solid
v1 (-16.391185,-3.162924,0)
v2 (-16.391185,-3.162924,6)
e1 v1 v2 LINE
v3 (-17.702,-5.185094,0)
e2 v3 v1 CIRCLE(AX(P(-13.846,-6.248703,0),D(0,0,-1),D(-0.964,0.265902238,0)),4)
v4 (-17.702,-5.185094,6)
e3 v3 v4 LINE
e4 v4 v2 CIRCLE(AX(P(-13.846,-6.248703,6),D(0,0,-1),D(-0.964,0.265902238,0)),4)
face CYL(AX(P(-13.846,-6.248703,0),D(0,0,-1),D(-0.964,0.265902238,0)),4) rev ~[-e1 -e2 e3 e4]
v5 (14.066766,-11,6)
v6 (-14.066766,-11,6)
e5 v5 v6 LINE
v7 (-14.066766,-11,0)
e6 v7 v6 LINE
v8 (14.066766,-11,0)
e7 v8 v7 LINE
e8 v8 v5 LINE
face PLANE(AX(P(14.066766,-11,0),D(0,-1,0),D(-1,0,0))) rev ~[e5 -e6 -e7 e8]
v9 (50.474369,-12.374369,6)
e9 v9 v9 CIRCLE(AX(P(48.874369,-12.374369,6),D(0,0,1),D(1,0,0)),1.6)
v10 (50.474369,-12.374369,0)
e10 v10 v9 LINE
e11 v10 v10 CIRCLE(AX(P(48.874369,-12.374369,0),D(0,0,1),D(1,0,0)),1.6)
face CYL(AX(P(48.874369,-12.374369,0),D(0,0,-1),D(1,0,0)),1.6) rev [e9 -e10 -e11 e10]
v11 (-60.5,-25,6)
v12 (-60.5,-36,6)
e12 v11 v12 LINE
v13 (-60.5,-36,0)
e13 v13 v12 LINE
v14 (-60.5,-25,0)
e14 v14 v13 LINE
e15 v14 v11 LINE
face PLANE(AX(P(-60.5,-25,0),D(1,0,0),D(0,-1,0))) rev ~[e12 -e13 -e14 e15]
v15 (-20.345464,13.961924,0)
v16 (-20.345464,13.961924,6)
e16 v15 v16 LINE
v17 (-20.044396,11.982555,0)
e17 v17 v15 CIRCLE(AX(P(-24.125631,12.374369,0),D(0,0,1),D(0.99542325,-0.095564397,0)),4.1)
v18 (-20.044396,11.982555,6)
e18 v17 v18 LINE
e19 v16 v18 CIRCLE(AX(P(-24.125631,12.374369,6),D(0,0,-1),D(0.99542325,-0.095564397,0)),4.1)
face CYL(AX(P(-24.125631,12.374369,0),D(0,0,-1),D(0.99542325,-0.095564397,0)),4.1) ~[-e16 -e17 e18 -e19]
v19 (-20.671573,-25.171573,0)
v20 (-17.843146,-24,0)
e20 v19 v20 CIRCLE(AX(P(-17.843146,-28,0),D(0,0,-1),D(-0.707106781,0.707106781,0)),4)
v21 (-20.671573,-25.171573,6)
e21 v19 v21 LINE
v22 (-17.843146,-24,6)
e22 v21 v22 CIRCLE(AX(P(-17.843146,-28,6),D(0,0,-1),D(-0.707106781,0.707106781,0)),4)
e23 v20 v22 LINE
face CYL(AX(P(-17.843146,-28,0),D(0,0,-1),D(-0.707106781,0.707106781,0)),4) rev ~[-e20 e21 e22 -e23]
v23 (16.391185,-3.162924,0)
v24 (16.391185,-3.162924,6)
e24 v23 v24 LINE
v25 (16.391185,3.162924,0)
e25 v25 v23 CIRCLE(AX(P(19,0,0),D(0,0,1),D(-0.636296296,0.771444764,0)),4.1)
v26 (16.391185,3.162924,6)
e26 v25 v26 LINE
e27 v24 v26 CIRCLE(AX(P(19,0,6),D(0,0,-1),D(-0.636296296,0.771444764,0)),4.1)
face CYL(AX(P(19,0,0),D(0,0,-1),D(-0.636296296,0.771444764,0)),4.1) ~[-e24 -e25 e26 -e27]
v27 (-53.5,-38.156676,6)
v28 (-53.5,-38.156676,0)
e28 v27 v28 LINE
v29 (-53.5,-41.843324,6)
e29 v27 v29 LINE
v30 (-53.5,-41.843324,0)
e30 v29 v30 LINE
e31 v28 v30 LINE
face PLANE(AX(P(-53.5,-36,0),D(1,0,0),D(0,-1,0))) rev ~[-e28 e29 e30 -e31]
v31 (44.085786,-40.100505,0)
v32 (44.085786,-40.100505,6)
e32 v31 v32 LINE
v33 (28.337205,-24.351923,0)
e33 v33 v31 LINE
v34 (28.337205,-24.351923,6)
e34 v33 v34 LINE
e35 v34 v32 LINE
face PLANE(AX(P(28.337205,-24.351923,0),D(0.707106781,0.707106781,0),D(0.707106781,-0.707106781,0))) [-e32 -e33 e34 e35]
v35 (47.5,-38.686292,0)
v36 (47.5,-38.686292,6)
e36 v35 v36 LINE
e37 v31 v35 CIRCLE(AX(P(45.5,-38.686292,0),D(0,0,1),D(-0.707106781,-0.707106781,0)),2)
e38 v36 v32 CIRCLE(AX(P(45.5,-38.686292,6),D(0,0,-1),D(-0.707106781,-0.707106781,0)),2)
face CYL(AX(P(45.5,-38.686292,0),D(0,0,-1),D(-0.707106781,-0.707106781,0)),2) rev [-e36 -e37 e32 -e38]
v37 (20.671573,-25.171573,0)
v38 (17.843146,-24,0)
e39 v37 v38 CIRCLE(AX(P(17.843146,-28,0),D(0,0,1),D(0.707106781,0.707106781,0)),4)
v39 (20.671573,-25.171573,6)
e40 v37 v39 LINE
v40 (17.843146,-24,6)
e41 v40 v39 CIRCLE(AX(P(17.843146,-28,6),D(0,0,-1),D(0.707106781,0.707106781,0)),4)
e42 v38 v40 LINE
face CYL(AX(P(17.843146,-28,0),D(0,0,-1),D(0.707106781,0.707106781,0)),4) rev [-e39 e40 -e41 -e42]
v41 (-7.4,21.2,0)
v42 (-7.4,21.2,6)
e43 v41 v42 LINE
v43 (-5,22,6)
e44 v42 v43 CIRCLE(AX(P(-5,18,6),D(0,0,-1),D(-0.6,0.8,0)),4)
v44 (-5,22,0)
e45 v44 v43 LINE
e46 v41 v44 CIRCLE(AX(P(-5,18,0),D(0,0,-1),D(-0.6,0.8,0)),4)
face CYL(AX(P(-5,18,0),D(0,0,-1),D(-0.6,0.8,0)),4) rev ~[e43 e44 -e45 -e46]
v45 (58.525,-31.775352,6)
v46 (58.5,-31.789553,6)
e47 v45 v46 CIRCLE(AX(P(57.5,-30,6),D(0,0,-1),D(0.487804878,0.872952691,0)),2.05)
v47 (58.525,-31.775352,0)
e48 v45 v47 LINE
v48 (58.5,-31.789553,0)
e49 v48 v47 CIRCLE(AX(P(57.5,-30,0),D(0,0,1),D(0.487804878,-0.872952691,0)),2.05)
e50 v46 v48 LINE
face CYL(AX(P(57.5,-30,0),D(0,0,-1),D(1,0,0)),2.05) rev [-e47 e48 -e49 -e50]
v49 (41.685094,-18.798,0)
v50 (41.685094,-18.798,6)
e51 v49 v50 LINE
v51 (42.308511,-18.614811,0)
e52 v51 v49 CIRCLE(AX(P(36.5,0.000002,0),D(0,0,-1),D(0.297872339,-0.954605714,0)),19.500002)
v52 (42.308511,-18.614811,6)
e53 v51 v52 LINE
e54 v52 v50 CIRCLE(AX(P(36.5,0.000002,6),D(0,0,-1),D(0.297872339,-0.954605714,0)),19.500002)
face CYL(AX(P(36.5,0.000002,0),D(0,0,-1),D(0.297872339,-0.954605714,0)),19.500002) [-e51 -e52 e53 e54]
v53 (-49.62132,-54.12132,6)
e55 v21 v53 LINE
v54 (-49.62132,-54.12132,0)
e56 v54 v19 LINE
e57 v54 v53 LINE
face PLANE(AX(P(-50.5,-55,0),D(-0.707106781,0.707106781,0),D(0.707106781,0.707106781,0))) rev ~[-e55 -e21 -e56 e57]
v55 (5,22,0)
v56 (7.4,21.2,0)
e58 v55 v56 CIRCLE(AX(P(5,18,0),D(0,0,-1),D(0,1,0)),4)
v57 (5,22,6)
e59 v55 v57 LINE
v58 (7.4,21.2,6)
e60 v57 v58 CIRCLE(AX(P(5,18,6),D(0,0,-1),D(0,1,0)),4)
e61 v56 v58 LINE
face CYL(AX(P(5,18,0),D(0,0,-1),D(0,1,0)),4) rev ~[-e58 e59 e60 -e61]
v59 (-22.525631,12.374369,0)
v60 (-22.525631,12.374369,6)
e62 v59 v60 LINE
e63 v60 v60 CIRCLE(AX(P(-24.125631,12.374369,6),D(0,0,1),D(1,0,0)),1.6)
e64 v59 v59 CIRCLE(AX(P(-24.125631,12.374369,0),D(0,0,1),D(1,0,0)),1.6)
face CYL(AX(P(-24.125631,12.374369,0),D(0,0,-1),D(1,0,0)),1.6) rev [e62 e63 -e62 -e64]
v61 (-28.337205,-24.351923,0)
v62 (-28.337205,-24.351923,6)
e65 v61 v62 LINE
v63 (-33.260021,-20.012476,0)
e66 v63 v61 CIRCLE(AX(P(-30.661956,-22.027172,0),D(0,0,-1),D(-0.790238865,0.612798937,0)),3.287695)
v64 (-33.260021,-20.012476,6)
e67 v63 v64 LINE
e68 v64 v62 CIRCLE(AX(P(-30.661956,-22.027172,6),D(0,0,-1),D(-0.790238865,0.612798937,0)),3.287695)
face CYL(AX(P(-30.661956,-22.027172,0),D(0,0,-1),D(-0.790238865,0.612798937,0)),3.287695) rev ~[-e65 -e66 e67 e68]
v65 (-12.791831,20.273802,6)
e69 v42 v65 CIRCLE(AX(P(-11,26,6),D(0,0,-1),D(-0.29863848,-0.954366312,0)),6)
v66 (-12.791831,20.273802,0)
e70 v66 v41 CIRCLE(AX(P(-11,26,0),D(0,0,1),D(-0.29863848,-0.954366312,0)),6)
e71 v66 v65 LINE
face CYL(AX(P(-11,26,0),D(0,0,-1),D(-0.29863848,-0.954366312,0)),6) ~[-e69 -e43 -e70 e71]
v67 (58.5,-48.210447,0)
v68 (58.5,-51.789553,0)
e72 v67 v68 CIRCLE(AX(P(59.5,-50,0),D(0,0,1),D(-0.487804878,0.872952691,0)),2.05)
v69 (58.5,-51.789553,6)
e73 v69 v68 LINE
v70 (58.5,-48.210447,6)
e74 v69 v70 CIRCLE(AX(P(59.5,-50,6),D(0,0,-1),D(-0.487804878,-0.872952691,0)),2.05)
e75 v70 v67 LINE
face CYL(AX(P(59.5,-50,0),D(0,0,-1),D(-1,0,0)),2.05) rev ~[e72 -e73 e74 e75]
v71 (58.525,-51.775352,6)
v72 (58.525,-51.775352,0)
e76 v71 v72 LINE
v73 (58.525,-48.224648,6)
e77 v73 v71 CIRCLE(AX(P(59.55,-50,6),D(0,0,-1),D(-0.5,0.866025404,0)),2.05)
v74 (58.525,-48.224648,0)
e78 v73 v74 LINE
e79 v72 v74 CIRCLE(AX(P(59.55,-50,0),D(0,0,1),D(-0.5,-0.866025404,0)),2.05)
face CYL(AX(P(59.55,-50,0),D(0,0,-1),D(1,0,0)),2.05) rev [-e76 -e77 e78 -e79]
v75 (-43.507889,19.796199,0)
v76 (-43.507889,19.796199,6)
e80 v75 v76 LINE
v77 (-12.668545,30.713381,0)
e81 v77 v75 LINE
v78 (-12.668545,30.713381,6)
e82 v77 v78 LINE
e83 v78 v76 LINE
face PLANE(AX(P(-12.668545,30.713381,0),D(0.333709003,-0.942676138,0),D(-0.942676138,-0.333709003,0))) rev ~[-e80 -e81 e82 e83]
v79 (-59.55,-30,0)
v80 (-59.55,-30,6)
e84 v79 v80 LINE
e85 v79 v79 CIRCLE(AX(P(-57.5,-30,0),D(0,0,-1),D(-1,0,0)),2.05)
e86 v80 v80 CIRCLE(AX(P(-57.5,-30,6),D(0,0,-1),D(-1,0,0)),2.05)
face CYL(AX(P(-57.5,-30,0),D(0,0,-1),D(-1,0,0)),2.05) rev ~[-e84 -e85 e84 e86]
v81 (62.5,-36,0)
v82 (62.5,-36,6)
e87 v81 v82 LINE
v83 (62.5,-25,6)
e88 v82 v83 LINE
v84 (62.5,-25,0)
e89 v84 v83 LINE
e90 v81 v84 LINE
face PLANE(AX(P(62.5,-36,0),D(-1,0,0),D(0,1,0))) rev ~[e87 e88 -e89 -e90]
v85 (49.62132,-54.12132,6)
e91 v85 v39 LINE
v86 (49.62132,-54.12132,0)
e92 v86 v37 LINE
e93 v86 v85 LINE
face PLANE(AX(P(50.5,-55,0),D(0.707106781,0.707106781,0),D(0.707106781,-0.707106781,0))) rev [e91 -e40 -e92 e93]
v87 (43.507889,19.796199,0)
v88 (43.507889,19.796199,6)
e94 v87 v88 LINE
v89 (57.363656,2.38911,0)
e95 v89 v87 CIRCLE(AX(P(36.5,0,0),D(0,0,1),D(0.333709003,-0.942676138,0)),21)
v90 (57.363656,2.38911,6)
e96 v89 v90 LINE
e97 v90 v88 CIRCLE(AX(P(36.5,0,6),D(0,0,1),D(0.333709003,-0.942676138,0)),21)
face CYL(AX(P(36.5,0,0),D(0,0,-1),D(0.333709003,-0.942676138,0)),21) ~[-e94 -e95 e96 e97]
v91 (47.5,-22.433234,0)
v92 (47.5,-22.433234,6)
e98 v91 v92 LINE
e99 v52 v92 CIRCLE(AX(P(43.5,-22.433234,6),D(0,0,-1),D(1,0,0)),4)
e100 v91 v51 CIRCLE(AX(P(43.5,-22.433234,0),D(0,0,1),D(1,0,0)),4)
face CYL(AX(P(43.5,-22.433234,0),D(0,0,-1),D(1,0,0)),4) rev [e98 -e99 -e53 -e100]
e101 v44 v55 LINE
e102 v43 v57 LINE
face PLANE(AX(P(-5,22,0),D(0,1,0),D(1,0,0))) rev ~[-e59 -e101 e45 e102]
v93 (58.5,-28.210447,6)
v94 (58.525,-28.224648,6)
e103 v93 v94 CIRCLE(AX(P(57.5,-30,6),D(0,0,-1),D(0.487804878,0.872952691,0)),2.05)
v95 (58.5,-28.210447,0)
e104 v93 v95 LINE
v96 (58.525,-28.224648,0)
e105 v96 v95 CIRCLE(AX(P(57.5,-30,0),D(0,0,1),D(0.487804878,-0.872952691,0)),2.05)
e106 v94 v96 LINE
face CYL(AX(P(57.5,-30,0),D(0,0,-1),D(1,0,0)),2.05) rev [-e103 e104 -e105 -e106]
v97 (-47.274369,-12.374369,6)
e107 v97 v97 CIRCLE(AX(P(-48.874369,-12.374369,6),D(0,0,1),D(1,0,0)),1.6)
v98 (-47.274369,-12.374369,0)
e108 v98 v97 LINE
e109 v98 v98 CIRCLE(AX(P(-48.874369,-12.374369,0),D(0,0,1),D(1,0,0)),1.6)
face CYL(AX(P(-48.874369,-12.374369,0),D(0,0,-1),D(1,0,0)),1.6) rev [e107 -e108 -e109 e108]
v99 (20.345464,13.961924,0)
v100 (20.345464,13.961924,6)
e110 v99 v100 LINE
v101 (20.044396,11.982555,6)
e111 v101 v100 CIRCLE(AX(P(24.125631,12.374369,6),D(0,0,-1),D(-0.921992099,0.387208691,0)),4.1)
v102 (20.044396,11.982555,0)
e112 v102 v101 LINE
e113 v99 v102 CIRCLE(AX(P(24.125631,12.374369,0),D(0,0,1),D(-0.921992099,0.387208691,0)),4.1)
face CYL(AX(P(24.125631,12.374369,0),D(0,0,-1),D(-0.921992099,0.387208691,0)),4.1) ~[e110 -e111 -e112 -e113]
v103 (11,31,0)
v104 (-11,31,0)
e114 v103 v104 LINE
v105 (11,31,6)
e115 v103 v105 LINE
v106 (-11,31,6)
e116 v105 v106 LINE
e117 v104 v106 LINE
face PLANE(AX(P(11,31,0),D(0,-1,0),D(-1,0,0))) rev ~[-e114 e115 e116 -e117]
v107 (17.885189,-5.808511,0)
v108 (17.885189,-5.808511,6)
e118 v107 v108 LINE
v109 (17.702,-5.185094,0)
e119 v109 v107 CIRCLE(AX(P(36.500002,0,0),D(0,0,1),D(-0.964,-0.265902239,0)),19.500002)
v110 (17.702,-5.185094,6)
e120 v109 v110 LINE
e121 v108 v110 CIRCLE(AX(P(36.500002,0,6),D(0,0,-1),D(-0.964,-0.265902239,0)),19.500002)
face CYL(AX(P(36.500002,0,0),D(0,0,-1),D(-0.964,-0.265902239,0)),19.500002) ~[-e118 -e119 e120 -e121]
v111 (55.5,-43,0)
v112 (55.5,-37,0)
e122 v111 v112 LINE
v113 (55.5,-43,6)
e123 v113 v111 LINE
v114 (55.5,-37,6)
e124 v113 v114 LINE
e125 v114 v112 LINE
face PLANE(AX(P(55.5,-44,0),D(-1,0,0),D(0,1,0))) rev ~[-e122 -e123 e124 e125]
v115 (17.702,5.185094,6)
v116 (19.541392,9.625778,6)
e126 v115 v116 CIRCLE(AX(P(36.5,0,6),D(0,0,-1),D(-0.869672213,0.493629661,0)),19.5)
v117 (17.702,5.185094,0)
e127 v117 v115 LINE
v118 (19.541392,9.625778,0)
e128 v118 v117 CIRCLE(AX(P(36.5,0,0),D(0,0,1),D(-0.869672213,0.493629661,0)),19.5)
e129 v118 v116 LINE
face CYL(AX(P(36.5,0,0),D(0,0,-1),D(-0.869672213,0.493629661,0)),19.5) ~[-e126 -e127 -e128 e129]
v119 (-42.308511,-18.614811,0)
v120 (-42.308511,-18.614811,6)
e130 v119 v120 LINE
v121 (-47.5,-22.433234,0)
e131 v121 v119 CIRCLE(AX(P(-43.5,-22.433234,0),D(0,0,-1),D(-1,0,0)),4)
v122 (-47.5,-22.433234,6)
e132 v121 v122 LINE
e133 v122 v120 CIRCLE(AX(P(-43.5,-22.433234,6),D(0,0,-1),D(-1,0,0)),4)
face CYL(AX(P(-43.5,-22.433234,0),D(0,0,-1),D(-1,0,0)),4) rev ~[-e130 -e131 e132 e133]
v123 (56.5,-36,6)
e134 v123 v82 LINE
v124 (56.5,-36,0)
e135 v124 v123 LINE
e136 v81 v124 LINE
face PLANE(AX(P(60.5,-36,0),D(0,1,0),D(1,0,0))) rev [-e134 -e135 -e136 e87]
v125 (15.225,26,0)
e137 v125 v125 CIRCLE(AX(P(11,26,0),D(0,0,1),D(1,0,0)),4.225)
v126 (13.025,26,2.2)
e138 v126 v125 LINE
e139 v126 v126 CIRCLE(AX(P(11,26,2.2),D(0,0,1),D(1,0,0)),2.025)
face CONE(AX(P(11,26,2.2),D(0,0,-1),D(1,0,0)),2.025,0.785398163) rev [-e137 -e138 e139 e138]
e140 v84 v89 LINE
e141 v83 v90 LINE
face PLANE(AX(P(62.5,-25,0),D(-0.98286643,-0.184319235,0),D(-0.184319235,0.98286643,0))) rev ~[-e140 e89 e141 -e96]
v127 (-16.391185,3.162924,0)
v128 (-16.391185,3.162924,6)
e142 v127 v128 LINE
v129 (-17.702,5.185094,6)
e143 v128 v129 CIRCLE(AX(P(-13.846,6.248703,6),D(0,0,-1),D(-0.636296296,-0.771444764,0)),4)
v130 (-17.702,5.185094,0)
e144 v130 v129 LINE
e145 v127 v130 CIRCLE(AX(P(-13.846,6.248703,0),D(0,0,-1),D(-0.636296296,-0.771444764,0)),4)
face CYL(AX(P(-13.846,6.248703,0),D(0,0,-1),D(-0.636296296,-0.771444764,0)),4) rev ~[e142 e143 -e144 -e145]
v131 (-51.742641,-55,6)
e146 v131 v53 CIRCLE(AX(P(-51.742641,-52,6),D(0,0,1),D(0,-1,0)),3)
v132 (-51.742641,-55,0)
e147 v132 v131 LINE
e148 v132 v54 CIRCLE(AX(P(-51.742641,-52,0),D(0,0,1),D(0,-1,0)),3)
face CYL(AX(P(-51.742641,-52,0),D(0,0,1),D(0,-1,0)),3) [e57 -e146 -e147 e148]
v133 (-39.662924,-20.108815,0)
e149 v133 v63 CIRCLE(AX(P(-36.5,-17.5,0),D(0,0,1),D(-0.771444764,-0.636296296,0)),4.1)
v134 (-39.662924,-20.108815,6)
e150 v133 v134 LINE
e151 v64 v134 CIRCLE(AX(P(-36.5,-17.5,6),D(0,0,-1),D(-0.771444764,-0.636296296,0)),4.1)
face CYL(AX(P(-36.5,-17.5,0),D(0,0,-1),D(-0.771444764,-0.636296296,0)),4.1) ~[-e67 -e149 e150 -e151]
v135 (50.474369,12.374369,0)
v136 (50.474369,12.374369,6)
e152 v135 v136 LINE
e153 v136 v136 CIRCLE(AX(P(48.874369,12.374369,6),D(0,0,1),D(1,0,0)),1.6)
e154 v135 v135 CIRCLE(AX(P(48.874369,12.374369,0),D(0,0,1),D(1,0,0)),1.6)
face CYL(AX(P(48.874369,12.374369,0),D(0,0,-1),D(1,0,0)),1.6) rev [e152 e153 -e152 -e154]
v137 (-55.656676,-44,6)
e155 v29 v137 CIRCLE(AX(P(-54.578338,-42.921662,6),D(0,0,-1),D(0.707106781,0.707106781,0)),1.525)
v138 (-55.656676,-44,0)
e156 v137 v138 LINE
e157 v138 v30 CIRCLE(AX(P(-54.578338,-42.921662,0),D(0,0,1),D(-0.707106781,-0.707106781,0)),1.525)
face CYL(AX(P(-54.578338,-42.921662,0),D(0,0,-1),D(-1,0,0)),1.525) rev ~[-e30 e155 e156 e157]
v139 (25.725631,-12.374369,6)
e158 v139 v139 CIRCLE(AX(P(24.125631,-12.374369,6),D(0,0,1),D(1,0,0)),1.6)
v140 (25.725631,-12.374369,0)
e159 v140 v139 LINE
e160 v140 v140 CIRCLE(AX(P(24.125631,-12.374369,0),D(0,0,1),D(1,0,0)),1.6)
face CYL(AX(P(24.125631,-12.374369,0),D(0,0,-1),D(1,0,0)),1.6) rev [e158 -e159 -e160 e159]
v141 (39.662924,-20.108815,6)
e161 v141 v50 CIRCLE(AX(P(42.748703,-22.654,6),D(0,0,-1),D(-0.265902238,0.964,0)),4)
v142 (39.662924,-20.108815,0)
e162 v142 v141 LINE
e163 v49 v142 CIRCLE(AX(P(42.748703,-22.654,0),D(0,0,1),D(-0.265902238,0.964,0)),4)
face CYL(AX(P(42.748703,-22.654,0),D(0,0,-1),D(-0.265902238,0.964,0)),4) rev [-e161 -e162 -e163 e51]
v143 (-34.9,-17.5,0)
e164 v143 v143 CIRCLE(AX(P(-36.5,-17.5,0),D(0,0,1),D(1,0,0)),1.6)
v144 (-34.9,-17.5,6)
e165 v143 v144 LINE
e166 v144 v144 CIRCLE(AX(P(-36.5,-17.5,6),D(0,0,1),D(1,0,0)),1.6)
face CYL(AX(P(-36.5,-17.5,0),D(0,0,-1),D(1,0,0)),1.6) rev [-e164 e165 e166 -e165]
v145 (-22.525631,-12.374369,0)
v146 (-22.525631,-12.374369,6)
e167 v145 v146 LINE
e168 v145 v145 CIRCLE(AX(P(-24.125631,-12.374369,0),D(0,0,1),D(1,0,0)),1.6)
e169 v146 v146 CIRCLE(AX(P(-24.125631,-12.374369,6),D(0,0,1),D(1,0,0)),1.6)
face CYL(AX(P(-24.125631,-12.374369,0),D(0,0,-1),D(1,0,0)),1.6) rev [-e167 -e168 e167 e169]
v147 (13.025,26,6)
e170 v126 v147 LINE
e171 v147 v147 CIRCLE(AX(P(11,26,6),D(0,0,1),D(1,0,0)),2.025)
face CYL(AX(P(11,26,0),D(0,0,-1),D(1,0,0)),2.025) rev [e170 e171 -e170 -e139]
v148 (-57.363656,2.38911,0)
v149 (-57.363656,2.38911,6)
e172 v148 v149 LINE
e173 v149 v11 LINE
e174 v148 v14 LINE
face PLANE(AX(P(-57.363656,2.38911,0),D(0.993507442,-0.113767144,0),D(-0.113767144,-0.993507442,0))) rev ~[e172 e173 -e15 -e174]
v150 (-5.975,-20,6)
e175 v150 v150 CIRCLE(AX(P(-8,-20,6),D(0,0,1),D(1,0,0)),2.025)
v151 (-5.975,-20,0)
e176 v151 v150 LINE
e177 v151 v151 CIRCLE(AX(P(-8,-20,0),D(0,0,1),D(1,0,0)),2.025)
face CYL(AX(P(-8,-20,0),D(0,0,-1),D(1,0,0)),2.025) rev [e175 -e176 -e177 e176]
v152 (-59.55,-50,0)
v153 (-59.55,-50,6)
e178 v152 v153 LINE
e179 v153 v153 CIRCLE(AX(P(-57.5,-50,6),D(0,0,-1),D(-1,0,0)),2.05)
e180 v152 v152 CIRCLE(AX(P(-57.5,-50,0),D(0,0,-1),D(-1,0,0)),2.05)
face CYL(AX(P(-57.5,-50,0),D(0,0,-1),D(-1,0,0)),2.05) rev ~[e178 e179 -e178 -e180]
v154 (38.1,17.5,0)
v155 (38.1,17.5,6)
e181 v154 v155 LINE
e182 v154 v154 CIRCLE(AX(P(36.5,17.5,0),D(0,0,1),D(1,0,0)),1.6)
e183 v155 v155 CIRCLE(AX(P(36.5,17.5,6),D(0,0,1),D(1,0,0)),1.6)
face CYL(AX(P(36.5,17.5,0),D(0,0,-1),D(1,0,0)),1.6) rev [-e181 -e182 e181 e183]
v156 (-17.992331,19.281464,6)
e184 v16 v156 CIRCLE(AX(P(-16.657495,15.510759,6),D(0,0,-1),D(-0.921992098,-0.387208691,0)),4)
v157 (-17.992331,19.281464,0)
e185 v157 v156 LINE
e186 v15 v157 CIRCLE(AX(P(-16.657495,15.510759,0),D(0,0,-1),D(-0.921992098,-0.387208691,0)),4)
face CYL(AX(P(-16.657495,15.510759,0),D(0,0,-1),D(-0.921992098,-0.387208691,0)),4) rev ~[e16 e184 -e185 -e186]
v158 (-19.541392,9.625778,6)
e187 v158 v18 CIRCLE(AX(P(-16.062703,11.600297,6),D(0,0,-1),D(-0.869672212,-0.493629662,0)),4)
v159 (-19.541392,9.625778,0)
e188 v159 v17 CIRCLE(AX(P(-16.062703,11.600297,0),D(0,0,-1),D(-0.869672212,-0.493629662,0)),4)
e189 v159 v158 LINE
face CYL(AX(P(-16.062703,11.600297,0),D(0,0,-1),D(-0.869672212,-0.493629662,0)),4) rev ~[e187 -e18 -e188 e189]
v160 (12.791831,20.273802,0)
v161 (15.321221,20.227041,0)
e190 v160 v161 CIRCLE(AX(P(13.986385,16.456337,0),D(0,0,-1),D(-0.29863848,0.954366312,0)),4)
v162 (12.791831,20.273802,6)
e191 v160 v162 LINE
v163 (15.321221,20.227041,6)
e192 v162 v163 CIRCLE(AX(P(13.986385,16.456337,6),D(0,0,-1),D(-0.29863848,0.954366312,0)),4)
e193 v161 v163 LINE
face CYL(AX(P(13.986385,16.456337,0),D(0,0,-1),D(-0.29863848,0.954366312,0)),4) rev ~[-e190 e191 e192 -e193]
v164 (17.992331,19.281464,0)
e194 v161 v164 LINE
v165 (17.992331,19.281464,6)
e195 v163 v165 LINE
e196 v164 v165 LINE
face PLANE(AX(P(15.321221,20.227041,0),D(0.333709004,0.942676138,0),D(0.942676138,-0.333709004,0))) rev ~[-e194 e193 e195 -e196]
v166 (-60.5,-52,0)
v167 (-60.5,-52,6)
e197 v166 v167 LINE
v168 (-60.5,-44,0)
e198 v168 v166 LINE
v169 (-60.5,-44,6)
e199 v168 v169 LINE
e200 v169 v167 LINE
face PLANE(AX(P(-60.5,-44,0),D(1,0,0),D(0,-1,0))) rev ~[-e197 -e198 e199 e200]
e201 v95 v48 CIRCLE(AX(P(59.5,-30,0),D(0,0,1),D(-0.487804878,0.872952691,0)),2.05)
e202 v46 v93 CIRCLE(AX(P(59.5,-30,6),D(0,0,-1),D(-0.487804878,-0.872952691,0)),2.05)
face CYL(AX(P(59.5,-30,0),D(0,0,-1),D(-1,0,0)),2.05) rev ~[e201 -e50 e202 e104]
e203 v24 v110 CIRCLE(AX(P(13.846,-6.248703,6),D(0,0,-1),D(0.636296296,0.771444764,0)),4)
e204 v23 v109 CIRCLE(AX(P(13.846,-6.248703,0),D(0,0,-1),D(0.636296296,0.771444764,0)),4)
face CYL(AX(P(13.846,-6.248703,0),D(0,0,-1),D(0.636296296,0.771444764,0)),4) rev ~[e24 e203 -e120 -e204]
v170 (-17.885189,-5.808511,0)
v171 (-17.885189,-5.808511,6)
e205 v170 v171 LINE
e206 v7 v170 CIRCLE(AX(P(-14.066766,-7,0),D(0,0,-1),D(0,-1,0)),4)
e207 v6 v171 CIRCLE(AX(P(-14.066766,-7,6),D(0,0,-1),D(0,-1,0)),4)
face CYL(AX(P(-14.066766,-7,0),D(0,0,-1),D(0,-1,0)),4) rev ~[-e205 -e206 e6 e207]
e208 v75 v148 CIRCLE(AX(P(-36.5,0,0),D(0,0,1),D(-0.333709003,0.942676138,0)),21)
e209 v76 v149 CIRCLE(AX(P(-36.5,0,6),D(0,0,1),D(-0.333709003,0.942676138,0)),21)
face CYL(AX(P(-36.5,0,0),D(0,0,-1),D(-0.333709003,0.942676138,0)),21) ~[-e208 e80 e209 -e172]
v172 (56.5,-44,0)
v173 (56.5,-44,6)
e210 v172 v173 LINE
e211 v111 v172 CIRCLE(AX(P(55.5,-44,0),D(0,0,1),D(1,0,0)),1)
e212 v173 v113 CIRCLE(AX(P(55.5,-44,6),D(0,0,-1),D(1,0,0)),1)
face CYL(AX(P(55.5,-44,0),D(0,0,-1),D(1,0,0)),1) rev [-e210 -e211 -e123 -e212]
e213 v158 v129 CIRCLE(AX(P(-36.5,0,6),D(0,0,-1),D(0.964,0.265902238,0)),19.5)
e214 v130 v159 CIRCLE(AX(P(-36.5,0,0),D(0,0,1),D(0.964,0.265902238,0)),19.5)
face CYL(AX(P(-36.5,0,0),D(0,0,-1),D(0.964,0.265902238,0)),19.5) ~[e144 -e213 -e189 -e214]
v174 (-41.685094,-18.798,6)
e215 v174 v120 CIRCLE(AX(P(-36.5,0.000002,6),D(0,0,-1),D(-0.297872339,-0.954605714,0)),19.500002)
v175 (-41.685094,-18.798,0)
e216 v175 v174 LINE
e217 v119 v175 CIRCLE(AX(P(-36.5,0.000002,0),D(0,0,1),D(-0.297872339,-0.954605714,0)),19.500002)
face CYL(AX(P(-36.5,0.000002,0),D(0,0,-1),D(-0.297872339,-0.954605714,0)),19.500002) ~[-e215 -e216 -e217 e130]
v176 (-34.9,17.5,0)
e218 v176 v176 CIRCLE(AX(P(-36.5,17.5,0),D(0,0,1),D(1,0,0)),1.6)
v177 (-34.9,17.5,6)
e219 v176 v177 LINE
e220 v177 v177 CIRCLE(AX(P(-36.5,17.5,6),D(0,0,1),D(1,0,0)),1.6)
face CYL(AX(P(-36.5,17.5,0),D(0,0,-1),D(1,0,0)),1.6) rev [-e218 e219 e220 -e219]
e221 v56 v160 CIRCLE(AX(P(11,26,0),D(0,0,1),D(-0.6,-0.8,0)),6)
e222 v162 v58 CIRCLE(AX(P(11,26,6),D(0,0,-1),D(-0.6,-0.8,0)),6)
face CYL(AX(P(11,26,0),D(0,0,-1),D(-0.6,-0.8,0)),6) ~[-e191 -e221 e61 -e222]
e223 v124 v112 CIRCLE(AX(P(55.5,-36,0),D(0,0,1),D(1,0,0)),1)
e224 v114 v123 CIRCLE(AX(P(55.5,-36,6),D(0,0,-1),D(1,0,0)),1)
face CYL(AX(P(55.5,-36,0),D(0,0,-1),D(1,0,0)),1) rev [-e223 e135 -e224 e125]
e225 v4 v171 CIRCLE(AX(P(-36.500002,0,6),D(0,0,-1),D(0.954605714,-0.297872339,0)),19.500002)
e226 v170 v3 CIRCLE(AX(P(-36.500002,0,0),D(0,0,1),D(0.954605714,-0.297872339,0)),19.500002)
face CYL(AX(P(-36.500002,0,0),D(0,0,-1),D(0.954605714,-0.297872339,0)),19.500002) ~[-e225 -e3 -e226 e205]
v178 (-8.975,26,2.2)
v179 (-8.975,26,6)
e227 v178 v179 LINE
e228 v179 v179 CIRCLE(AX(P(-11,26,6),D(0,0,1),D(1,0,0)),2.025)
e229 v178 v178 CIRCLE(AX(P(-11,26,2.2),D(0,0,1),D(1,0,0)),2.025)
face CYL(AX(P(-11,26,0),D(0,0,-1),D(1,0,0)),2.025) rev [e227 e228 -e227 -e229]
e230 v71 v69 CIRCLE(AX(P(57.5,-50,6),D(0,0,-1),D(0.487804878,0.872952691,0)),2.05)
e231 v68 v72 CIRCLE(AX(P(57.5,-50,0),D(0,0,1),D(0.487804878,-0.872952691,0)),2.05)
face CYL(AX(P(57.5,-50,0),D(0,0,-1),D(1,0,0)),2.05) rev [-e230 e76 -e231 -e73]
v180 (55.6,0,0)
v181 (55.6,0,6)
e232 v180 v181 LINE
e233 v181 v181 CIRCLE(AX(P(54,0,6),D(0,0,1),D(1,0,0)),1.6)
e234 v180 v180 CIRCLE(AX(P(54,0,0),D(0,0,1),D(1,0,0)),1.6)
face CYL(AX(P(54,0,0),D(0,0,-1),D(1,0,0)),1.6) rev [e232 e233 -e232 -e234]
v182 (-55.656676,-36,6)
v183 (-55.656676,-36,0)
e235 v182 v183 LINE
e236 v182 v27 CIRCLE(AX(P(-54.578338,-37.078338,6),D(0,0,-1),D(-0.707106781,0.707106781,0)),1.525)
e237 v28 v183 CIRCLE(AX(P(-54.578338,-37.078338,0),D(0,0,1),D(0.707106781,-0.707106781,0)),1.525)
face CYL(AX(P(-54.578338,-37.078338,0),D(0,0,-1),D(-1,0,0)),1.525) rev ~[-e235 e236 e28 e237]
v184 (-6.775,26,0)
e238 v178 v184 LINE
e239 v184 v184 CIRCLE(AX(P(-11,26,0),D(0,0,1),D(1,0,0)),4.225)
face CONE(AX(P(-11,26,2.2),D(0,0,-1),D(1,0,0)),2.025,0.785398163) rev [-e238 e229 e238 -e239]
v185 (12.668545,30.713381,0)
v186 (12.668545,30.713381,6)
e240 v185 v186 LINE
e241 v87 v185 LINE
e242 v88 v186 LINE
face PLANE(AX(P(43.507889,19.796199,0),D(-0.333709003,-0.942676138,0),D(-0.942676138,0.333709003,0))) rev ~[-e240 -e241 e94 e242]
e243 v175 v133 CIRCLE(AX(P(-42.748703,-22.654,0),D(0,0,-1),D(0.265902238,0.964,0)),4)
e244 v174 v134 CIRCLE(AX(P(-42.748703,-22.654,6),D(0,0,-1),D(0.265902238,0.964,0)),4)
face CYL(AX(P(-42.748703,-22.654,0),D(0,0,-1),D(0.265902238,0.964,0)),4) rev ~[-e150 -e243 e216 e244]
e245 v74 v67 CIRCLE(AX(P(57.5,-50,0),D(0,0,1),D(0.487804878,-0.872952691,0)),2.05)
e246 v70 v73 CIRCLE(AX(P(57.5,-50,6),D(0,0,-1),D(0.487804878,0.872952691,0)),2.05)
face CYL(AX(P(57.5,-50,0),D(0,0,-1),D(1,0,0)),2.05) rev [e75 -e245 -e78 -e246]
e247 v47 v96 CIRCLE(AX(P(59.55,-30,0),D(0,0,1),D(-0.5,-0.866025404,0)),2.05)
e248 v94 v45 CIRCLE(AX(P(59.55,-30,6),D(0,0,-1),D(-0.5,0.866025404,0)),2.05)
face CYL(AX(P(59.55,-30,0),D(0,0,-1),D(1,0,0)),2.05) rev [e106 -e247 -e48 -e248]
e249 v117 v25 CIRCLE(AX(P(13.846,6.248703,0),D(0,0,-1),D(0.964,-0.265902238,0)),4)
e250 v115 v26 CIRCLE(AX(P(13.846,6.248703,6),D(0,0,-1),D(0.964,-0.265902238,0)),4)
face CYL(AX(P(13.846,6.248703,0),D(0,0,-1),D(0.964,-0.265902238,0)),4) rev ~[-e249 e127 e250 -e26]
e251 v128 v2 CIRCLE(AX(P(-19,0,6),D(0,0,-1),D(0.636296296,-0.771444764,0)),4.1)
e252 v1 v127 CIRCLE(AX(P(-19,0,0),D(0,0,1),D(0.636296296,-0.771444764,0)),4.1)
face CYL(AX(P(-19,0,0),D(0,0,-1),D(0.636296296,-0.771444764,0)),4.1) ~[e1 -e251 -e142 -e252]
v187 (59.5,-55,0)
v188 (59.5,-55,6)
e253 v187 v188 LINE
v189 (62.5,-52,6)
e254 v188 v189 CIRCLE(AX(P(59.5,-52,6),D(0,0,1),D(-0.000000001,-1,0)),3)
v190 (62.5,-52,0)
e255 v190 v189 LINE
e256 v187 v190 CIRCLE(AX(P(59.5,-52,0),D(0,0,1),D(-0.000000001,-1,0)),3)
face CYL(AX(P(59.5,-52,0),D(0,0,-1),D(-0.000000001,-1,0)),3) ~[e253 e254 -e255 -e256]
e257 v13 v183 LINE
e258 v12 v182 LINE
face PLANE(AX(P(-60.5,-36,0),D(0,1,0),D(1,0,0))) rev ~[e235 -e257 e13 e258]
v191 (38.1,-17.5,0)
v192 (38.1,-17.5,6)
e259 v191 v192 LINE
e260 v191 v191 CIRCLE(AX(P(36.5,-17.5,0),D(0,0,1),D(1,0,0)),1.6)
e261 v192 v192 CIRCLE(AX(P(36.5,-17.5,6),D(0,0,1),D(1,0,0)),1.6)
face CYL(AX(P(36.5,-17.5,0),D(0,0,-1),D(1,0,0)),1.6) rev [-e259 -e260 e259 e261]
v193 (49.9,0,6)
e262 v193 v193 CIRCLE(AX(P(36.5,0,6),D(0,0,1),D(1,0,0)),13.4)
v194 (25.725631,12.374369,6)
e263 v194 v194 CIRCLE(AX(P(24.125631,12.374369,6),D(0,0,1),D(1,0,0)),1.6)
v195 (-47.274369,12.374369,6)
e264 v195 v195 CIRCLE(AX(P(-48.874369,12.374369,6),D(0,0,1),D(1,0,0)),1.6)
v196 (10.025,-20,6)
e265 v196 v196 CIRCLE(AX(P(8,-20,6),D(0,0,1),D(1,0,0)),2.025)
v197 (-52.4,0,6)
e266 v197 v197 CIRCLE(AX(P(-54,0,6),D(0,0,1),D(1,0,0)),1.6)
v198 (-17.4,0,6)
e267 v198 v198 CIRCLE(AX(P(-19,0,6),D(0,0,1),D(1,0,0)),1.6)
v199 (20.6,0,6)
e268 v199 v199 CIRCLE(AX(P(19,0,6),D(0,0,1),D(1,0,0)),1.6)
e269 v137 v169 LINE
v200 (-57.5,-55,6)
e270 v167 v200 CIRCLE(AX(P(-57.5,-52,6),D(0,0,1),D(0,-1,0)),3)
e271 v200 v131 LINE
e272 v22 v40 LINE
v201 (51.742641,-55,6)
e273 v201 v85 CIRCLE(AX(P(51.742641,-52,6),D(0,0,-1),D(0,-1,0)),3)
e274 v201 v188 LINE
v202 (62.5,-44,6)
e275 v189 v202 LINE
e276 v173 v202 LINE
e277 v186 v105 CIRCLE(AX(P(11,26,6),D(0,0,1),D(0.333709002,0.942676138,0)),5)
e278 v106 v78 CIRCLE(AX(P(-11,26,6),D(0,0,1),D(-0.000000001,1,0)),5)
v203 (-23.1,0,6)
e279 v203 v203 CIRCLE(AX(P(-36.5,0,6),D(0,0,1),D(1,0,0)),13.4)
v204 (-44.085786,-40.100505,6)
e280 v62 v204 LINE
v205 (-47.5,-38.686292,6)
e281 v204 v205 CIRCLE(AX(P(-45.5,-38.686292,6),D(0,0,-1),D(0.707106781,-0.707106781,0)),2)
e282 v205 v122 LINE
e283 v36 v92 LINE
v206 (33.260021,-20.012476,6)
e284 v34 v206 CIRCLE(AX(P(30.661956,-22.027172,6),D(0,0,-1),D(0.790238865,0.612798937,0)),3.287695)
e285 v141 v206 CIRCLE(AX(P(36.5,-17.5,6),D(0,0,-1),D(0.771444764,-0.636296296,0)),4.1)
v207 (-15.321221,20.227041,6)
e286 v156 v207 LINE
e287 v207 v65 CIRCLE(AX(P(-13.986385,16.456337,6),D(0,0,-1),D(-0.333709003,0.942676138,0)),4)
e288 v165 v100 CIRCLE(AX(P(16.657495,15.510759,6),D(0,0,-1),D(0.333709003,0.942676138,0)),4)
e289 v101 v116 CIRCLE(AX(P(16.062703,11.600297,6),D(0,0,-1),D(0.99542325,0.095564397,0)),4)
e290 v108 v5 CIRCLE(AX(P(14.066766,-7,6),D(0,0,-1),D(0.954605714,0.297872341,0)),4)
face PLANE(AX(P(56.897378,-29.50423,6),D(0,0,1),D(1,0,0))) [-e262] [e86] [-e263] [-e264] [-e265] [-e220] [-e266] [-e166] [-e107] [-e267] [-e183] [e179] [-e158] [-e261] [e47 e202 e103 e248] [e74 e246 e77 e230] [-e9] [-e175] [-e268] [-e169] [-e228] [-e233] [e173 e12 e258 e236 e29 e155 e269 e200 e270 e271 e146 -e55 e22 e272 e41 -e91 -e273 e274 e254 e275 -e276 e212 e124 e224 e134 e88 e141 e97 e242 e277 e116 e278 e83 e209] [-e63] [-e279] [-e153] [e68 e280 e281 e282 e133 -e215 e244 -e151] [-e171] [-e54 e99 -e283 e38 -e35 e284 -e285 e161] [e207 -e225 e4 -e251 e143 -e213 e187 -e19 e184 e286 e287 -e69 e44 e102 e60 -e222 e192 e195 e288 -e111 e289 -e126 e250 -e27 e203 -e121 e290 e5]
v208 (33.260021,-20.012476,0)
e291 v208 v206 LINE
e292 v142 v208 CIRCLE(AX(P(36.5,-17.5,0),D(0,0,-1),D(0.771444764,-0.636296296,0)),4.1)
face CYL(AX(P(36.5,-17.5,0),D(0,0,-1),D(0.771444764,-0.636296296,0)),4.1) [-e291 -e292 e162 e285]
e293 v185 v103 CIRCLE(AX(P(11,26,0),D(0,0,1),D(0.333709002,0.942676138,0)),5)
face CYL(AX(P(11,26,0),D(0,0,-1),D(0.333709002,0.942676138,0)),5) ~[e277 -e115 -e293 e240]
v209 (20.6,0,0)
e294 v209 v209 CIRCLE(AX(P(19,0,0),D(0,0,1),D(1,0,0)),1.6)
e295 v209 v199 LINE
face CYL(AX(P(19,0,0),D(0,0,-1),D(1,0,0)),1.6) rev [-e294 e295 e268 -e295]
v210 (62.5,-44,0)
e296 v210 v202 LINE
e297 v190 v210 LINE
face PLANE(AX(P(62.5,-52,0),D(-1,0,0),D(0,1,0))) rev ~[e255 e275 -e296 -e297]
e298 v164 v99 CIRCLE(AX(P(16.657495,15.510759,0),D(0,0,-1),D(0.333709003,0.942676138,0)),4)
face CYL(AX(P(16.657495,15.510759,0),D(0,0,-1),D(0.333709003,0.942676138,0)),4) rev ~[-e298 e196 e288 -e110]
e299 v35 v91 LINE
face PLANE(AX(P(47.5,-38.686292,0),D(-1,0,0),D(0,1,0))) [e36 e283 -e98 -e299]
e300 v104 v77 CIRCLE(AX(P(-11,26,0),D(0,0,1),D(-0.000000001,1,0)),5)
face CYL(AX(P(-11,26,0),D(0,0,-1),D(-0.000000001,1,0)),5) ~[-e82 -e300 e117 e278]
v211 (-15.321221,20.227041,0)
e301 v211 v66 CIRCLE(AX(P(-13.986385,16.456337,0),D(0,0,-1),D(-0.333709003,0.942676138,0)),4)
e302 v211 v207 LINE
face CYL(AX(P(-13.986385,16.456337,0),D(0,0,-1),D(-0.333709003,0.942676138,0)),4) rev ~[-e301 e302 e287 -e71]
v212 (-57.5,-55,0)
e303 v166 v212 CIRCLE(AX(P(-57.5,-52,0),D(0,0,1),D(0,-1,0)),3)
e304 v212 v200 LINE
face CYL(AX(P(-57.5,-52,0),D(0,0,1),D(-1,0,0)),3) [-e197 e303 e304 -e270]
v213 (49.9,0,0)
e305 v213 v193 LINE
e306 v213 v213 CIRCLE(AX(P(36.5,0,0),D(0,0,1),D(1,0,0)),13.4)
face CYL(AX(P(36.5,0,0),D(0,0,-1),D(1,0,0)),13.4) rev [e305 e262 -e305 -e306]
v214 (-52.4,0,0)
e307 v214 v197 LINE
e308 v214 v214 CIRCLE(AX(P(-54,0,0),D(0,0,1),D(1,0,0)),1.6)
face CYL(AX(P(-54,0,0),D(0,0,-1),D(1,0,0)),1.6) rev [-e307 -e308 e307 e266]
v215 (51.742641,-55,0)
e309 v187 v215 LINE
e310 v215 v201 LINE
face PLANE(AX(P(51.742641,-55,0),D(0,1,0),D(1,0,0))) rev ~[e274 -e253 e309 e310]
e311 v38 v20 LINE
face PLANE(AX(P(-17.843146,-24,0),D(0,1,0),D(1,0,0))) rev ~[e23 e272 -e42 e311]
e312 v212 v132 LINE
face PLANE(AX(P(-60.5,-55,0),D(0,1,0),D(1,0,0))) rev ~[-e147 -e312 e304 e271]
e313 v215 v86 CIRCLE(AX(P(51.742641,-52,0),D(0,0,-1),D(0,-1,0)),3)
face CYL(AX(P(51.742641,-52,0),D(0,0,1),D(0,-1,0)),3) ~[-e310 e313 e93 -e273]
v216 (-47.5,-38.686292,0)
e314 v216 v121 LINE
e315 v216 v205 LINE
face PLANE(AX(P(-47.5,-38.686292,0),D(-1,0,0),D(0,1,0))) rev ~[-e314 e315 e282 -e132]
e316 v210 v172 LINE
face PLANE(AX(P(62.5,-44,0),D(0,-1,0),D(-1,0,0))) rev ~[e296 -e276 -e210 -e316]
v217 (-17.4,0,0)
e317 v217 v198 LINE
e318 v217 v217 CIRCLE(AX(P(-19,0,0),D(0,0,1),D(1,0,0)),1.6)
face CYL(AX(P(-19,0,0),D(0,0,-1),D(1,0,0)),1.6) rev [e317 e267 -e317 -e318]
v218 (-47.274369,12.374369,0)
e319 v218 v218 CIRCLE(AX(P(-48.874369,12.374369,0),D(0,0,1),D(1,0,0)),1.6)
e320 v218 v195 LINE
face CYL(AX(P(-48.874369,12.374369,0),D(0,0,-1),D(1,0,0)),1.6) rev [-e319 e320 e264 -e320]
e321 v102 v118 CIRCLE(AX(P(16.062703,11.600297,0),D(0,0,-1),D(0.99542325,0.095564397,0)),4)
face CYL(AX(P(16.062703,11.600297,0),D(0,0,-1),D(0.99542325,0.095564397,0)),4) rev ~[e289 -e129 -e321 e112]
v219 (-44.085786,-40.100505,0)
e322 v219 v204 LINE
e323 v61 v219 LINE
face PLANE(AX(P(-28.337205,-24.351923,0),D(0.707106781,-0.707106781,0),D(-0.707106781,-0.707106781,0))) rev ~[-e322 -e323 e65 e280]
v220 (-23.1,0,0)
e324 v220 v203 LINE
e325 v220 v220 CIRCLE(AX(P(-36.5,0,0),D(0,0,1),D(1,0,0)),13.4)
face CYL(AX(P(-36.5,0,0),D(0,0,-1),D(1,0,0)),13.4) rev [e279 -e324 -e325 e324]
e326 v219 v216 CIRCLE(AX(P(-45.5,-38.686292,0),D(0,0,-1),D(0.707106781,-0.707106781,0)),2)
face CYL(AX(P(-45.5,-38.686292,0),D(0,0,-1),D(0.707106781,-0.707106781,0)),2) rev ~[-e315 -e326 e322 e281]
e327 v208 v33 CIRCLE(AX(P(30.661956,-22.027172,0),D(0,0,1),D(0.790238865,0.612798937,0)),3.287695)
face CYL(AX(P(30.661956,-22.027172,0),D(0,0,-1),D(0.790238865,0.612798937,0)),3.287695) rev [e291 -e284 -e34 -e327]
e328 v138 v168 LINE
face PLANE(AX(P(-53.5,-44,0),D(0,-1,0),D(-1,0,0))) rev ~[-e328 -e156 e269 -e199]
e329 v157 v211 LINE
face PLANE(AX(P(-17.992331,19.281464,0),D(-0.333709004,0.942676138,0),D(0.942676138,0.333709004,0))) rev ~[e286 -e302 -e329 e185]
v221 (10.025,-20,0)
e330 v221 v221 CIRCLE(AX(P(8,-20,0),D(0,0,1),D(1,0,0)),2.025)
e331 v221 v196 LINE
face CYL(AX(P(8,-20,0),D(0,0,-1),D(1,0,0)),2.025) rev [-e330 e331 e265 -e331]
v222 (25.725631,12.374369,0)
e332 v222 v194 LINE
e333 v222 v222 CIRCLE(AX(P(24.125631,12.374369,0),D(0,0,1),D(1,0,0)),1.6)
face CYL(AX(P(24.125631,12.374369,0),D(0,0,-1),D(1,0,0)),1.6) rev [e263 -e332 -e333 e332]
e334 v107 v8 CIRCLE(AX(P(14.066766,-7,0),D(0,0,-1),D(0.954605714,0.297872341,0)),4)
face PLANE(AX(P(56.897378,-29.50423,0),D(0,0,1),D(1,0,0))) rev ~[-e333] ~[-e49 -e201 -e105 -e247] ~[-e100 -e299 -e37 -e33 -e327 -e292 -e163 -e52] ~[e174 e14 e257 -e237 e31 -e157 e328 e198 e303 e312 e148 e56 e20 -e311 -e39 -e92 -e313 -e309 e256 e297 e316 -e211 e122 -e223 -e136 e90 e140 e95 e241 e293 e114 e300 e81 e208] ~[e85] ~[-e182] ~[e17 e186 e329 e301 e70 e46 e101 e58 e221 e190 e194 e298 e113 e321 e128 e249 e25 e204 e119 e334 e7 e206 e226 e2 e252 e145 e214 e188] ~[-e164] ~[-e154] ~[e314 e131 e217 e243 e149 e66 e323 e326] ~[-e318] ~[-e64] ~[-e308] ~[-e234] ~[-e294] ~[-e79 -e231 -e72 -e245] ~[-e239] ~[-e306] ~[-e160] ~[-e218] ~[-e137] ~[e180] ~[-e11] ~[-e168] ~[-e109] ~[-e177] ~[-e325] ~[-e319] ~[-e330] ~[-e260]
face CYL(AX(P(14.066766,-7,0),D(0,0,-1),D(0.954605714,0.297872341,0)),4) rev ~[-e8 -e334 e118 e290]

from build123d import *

# Parameters (mm, degrees)
SKETCH_1_R          = 2.025
SKETCH_1_R_2        = 13.4
SKETCH_1_R_3        = 1.6
EXTRUDE_1_DEPTH     = 6
CHAMFER_1_SIZE      = 2.2
SKETCH_2_R          = 2.05
EXTRUDE_1_2_DEPTH   = 6
CUT_EXTRUDE_2_DEPTH = 7
SKETCH_4_R          = 1.525
CUT_EXTRUDE_3_DEPTH = 7
FILLET_1_R          = 3
CUT_EXTRUDE_6_DEPTH = 7
SKETCH_10_R         = 2.05
EXTRUDE_2_DEPTH     = 6
SKETCH_11_R         = 2.05
SKETCH_11_R_2       = 1
CUT_EXTRUDE_8_DEPTH = 7


with BuildPart() as part:
    # 草图1 → Extrude 1 (new body)
    with BuildSketch(Plane.XY):
        with BuildLine():
            Line((-43.507889071, -19.796198897), (-12.668545017, -30.71338069))
            ThreePointArc((-12.668545017, -30.71338069), (-11.846491746, -30.927824238), (-11, -31))
            Line((-11, -31), (11, -31))
            ThreePointArc((11, -31), (11.846491746, -30.927824238), (12.668545017, -30.71338069))
            Line((12.668545017, -30.71338069), (43.507889071, -19.796198897))
            ThreePointArc((43.507889071, -19.796198897), (57.5, 0), (43.507889071, 19.796198897))
            Line((43.507889071, 19.796198897), (12.668545017, 30.71338069))
            ThreePointArc((12.668545017, 30.71338069), (11.846491746, 30.927824238), (11, 31))
            Line((11, 31), (-11, 31))
            ThreePointArc((-11, 31), (-11.846491746, 30.927824238), (-12.668545017, 30.71338069))
            Line((-12.668545017, 30.71338069), (-43.507889071, 19.796198897))
            ThreePointArc((-43.507889071, 19.796198897), (-57.5, 0), (-43.507889071, -19.796198897))
        make_face()
        with Locations((-11, 26)):
            Circle(SKETCH_1_R, mode=Mode.SUBTRACT)
        with Locations((11, 26)):
            Circle(SKETCH_1_R, mode=Mode.SUBTRACT)
        with Locations((-36.5, 0)):
            Circle(SKETCH_1_R_2, mode=Mode.SUBTRACT)
        with Locations((-19, 0)):
            Circle(SKETCH_1_R_3, mode=Mode.SUBTRACT)
        with Locations((-24.125631329, -12.374368671)):
            Circle(SKETCH_1_R_3, mode=Mode.SUBTRACT)
        with Locations((-36.5, -17.5)):
            Circle(SKETCH_1_R_3, mode=Mode.SUBTRACT)
        with Locations((-48.874368671, -12.374368671)):
            Circle(SKETCH_1_R_3, mode=Mode.SUBTRACT)
        with Locations((-54, 0)):
            Circle(SKETCH_1_R_3, mode=Mode.SUBTRACT)
        with Locations((-48.874368671, 12.374368671)):
            Circle(SKETCH_1_R_3, mode=Mode.SUBTRACT)
        with Locations((-36.5, 17.5)):
            Circle(SKETCH_1_R_3, mode=Mode.SUBTRACT)
        with Locations((-24.125631329, 12.374368671)):
            Circle(SKETCH_1_R_3, mode=Mode.SUBTRACT)
        with Locations((36.5, 0)):
            Circle(SKETCH_1_R_2, mode=Mode.SUBTRACT)
        with Locations((19, 0)):
            Circle(SKETCH_1_R_3, mode=Mode.SUBTRACT)
        with Locations((24.125631329, 12.374368671)):
            Circle(SKETCH_1_R_3, mode=Mode.SUBTRACT)
        with Locations((36.5, 17.5)):
            Circle(SKETCH_1_R_3, mode=Mode.SUBTRACT)
        with Locations((48.874368671, 12.374368671)):
            Circle(SKETCH_1_R_3, mode=Mode.SUBTRACT)
        with Locations((54, 0)):
            Circle(SKETCH_1_R_3, mode=Mode.SUBTRACT)
        with Locations((48.874368671, -12.374368671)):
            Circle(SKETCH_1_R_3, mode=Mode.SUBTRACT)
        with Locations((36.5, -17.5)):
            Circle(SKETCH_1_R_3, mode=Mode.SUBTRACT)
        with Locations((24.125631329, -12.374368671)):
            Circle(SKETCH_1_R_3, mode=Mode.SUBTRACT)
        with Locations((-8, -20)):
            Circle(SKETCH_1_R, mode=Mode.SUBTRACT)
        with Locations((8, -20)):
            Circle(SKETCH_1_R, mode=Mode.SUBTRACT)
    extrude(amount=EXTRUDE_1_DEPTH)

    # 倒角1
    chamfer_1_edges = [part.edges().sort_by_distance(p)[0] for p in [
        (-13.025, 26, 0),
        (8.975, 26, 0),
    ]]
    chamfer(chamfer_1_edges, length=CHAMFER_1_SIZE)

    # 草圖2 → Extrude 1 2 (add)
    with BuildSketch(Plane(origin=(0, 0, 0), x_dir=(-1, 0, 0), z_dir=(0, 0, -1))):
        with BuildLine():
            Line((60.5, -55), (0, -55))
            Line((0, -55), (0, -31))
            Line((0, -31), (43.507889071, -19.796198897))
            ThreePointArc((43.507889071, -19.796198897), (54.311590133, -11.124174439), (57.363656278, 2.389110027))
            Line((57.363656278, 2.389110027), (60.5, -24.999999992))
            Line((60.5, -24.999999992), (60.5, -35.999999996))
            Line((60.5, -35.999999996), (53.5, -35.999999996))
            Line((53.5, -35.999999996), (53.5, -43.999999996))
            Line((53.5, -43.999999996), (60.5, -43.999999996))
            Line((60.5, -43.999999996), (60.5, -55))
        make_face()
        with Locations((57.5, -29.999999996)):
            Circle(SKETCH_2_R, mode=Mode.SUBTRACT)
        with Locations((57.5, -49.999999996)):
            Circle(SKETCH_2_R, mode=Mode.SUBTRACT)
    extrude_1_2 = extrude(amount=-EXTRUDE_1_2_DEPTH)

    # 草图3 → 切除-拉伸2 (cut, through all)
    with BuildSketch(Plane(origin=(0, 0, 0), x_dir=(-1, 0, 0), z_dir=(0, 0, -1))):
        with BuildLine():
            Line((50.5, -55), (20.671572875, -25.171572875))
            ThreePointArc((20.671572875, -25.171572875), (19.37387948, -24.30448187), (17.843145751, -24))
            Line((17.843145751, -24), (0, -24))
            Line((0, -24), (0, -55))
            Line((0, -55), (50.5, -55))
        make_face()
    cut_extrude_2 = extrude(amount=-CUT_EXTRUDE_2_DEPTH, mode=Mode.SUBTRACT)

    # 草图4 → 切除-拉伸3 (cut, through all)
    with BuildSketch(Plane(origin=(0, 0, 0), x_dir=(-1, 0, 0), z_dir=(0, 0, -1))):
        with Locations((54.578337841, -42.921662155)):
            Circle(SKETCH_4_R)
        with Locations((54.578337841, -37.078337837)):
            Circle(SKETCH_4_R)
    cut_extrude_3 = extrude(amount=-CUT_EXTRUDE_3_DEPTH, mode=Mode.SUBTRACT)

    # 鏡射2: Extrude 1 2, 切除-拉伸2, 切除-拉伸3 across plane
    add(extrude_1_2.mirror(Plane(origin=(0, 0, 0), x_dir=(0, 0, 1), z_dir=(1, 0, 0))))
    add(cut_extrude_2.mirror(Plane(origin=(0, 0, 0), x_dir=(0, 0, 1), z_dir=(1, 0, 0))), mode=Mode.SUBTRACT)
    add(cut_extrude_3.mirror(Plane(origin=(0, 0, 0), x_dir=(0, 0, 1), z_dir=(1, 0, 0))), mode=Mode.SUBTRACT)

    # 圆角1
    fillet_1_edges = [part.edges().sort_by_distance(p)[0] for p in [
        (-60.5, -55, 3),
        (-50.5, -55, 3),
        (60.5, -55, 3),
        (50.5, -55, 3),
    ]]
    fillet(fillet_1_edges, radius=FILLET_1_R)

    # 草图9 → 切除-拉伸6 (cut, through all)
    with BuildSketch(Plane(origin=(0, 0, 0), x_dir=(-1, 0, 0), z_dir=(0, 0, -1))):
        with BuildLine():
            Line((47.5, -38.686291501), (47.5, -22.433234274))
            ThreePointArc((47.5, -22.433234274), (45.870025586, -19.210971292), (42.308510638, -18.614811419))
            ThreePointArc((42.308510638, -18.614811419), (41.99756521, -18.709002559), (41.685093635, -18.798))
            ThreePointArc((41.685093635, -18.798), (40.572946608, -19.297500942), (39.662923531, -20.108814815))
            ThreePointArc((39.662923531, -20.108814815), (36.438317678, -21.599535985), (33.260020655, -20.01247564))
            ThreePointArc((33.260020655, -20.01247564), (28.487933079, -19.560886472), (28.337204639, -24.351923265))
            Line((28.337204639, -24.351923265), (44.085786438, -40.100505063))
            ThreePointArc((44.085786438, -40.100505063), (46.265366865, -40.534050566), (47.5, -38.686291501))
        make_face()
        with BuildLine():
            Line((-14.066765726, -11), (14.066765726, -11))
            ThreePointArc((14.066765726, -11), (17.289028708, -9.370025586), (17.885188581, -5.808510638))
            ThreePointArc((17.885188581, -5.808510638), (17.790997441, -5.49756521), (17.702, -5.185093635))
            ThreePointArc((17.702, -5.185093635), (17.202499058, -4.072946608), (16.391185185, -3.162923531))
            ThreePointArc((16.391185185, -3.162923531), (14.9, 0), (16.391185185, 3.162923531))
            ThreePointArc((16.391185185, 3.162923531), (17.202499058, 4.072946608), (17.702, 5.185093635))
            ThreePointArc((17.702, 5.185093635), (18.484349116, 7.462326931), (19.541391857, 9.625778403))
            ThreePointArc((19.541391857, 9.625778403), (19.974598058, 10.76538561), (20.044396006, 11.98255464))
            ThreePointArc((20.044396006, 11.98255464), (20.072251251, 12.990899237), (20.345463726, 13.961924305))
            ThreePointArc((20.345463726, 13.961924305), (20.315570737, 17.128932218), (17.992331346, 19.281463622))
            Line((17.992331346, 19.281463622), (15.321220814, 20.227041428))
            ThreePointArc((15.321220814, 20.227041428), (14.060319956, 20.455653517), (12.79183088, 20.273802126))
            ThreePointArc((12.79183088, 20.273802126), (9.984209905, 20.086610914), (7.4, 21.2))
            ThreePointArc((7.4, 21.2), (6.264911064, 21.794733192), (5, 22))
            Line((5, 22), (-5, 22))
            ThreePointArc((-5, 22), (-6.264911064, 21.794733192), (-7.4, 21.2))
            ThreePointArc((-7.4, 21.2), (-9.984209905, 20.086610914), (-12.79183088, 20.273802126))
            ThreePointArc((-12.79183088, 20.273802126), (-14.060319956, 20.455653517), (-15.321220814, 20.227041428))
            Line((-15.321220814, 20.227041428), (-17.992331346, 19.281463622))
            ThreePointArc((-17.992331346, 19.281463622), (-20.315570737, 17.128932218), (-20.345463726, 13.961924305))
            ThreePointArc((-20.345463726, 13.961924305), (-20.072251251, 12.990899237), (-20.044396006, 11.98255464))
            ThreePointArc((-20.044396006, 11.98255464), (-19.974598058, 10.76538561), (-19.541391857, 9.625778403))
            ThreePointArc((-19.541391857, 9.625778403), (-18.484349116, 7.462326931), (-17.702, 5.185093635))
            ThreePointArc((-17.702, 5.185093635), (-17.202499058, 4.072946608), (-16.391185185, 3.162923531))
            ThreePointArc((-16.391185185, 3.162923531), (-14.9, 0), (-16.391185185, -3.162923531))
            ThreePointArc((-16.391185185, -3.162923531), (-17.202499058, -4.072946608), (-17.702, -5.185093635))
            ThreePointArc((-17.702, -5.185093635), (-17.790997441, -5.49756521), (-17.885188581, -5.808510638))
            ThreePointArc((-17.885188581, -5.808510638), (-17.289028708, -9.370025586), (-14.066765726, -11))
        make_face()
        with BuildLine():
            Line((-28.337204639, -24.351923265), (-44.085786438, -40.100505063))
            ThreePointArc((-44.085786438, -40.100505063), (-46.265366865, -40.534050566), (-47.5, -38.686291501))
            Line((-47.5, -38.686291501), (-47.5, -22.433234274))
            ThreePointArc((-47.5, -22.433234274), (-45.870025586, -19.210971292), (-42.308510638, -18.614811419))
            ThreePointArc((-42.308510638, -18.614811419), (-41.99756521, -18.709002559), (-41.685093635, -18.798))
            ThreePointArc((-41.685093635, -18.798), (-40.572946608, -19.297500942), (-39.662923531, -20.108814815))
            ThreePointArc((-39.662923531, -20.108814815), (-36.438317678, -21.599535985), (-33.260020655, -20.01247564))
            ThreePointArc((-33.260020655, -20.01247564), (-28.487933079, -19.560886472), (-28.337204639, -24.351923265))
        make_face()
    extrude(amount=-CUT_EXTRUDE_6_DEPTH, mode=Mode.SUBTRACT)

    # 草图10 → 凸台-拉伸2 (add)
    with BuildSketch(Plane(origin=(0, 0, 0), x_dir=(-1, 0, 0), z_dir=(0, 0, -1))):
        with BuildLine():
            Line((-62.5, -43.999999996), (-57.656675683, -43.999999996))
            Line((-57.656675683, -43.999999996), (-55.5, -43.999999996))
            Line((-55.5, -43.999999996), (-55.5, -35.999999996))
            Line((-55.5, -35.999999996), (-57.5, -35.999999996))
            Line((-57.5, -35.999999996), (-62.5, -35.999999996))
            Line((-62.5, -35.999999996), (-62.5, -24.999999992))
            Line((-62.5, -24.999999992), (-57.363656278, 2.389110027))
            Line((-57.363656278, 2.389110027), (-51.742640687, -24.999999992))
            Line((-51.742640687, -24.999999992), (-51.742640687, -55))
            Line((-51.742640687, -55), (-59.5, -55))
            ThreePointArc((-59.5, -55), (-61.621320344, -54.121320344), (-62.5, -52))
            Line((-62.5, -52), (-62.5, -43.999999996))
        make_face()
        with Locations((-59.5, -29.999999996)):
            Circle(SKETCH_10_R, mode=Mode.SUBTRACT)
        with Locations((-59.5, -49.999999996)):
            Circle(SKETCH_10_R, mode=Mode.SUBTRACT)
    extrude(amount=-EXTRUDE_2_DEPTH)

    # 草图11 → 切除-拉伸8 (cut, through all)
    with BuildSketch(Plane.XY):
        with Locations((59.55, -29.999999996)):
            Circle(SKETCH_11_R)
        with Locations((59.55, -49.999999996)):
            Circle(SKETCH_11_R)
        with Locations((55.5, -35.999999996)):
            Circle(SKETCH_11_R_2)
        with Locations((55.5, -43.999999996)):
            Circle(SKETCH_11_R_2)
    extrude(amount=CUT_EXTRUDE_8_DEPTH, mode=Mode.SUBTRACT)


solid = part.part
